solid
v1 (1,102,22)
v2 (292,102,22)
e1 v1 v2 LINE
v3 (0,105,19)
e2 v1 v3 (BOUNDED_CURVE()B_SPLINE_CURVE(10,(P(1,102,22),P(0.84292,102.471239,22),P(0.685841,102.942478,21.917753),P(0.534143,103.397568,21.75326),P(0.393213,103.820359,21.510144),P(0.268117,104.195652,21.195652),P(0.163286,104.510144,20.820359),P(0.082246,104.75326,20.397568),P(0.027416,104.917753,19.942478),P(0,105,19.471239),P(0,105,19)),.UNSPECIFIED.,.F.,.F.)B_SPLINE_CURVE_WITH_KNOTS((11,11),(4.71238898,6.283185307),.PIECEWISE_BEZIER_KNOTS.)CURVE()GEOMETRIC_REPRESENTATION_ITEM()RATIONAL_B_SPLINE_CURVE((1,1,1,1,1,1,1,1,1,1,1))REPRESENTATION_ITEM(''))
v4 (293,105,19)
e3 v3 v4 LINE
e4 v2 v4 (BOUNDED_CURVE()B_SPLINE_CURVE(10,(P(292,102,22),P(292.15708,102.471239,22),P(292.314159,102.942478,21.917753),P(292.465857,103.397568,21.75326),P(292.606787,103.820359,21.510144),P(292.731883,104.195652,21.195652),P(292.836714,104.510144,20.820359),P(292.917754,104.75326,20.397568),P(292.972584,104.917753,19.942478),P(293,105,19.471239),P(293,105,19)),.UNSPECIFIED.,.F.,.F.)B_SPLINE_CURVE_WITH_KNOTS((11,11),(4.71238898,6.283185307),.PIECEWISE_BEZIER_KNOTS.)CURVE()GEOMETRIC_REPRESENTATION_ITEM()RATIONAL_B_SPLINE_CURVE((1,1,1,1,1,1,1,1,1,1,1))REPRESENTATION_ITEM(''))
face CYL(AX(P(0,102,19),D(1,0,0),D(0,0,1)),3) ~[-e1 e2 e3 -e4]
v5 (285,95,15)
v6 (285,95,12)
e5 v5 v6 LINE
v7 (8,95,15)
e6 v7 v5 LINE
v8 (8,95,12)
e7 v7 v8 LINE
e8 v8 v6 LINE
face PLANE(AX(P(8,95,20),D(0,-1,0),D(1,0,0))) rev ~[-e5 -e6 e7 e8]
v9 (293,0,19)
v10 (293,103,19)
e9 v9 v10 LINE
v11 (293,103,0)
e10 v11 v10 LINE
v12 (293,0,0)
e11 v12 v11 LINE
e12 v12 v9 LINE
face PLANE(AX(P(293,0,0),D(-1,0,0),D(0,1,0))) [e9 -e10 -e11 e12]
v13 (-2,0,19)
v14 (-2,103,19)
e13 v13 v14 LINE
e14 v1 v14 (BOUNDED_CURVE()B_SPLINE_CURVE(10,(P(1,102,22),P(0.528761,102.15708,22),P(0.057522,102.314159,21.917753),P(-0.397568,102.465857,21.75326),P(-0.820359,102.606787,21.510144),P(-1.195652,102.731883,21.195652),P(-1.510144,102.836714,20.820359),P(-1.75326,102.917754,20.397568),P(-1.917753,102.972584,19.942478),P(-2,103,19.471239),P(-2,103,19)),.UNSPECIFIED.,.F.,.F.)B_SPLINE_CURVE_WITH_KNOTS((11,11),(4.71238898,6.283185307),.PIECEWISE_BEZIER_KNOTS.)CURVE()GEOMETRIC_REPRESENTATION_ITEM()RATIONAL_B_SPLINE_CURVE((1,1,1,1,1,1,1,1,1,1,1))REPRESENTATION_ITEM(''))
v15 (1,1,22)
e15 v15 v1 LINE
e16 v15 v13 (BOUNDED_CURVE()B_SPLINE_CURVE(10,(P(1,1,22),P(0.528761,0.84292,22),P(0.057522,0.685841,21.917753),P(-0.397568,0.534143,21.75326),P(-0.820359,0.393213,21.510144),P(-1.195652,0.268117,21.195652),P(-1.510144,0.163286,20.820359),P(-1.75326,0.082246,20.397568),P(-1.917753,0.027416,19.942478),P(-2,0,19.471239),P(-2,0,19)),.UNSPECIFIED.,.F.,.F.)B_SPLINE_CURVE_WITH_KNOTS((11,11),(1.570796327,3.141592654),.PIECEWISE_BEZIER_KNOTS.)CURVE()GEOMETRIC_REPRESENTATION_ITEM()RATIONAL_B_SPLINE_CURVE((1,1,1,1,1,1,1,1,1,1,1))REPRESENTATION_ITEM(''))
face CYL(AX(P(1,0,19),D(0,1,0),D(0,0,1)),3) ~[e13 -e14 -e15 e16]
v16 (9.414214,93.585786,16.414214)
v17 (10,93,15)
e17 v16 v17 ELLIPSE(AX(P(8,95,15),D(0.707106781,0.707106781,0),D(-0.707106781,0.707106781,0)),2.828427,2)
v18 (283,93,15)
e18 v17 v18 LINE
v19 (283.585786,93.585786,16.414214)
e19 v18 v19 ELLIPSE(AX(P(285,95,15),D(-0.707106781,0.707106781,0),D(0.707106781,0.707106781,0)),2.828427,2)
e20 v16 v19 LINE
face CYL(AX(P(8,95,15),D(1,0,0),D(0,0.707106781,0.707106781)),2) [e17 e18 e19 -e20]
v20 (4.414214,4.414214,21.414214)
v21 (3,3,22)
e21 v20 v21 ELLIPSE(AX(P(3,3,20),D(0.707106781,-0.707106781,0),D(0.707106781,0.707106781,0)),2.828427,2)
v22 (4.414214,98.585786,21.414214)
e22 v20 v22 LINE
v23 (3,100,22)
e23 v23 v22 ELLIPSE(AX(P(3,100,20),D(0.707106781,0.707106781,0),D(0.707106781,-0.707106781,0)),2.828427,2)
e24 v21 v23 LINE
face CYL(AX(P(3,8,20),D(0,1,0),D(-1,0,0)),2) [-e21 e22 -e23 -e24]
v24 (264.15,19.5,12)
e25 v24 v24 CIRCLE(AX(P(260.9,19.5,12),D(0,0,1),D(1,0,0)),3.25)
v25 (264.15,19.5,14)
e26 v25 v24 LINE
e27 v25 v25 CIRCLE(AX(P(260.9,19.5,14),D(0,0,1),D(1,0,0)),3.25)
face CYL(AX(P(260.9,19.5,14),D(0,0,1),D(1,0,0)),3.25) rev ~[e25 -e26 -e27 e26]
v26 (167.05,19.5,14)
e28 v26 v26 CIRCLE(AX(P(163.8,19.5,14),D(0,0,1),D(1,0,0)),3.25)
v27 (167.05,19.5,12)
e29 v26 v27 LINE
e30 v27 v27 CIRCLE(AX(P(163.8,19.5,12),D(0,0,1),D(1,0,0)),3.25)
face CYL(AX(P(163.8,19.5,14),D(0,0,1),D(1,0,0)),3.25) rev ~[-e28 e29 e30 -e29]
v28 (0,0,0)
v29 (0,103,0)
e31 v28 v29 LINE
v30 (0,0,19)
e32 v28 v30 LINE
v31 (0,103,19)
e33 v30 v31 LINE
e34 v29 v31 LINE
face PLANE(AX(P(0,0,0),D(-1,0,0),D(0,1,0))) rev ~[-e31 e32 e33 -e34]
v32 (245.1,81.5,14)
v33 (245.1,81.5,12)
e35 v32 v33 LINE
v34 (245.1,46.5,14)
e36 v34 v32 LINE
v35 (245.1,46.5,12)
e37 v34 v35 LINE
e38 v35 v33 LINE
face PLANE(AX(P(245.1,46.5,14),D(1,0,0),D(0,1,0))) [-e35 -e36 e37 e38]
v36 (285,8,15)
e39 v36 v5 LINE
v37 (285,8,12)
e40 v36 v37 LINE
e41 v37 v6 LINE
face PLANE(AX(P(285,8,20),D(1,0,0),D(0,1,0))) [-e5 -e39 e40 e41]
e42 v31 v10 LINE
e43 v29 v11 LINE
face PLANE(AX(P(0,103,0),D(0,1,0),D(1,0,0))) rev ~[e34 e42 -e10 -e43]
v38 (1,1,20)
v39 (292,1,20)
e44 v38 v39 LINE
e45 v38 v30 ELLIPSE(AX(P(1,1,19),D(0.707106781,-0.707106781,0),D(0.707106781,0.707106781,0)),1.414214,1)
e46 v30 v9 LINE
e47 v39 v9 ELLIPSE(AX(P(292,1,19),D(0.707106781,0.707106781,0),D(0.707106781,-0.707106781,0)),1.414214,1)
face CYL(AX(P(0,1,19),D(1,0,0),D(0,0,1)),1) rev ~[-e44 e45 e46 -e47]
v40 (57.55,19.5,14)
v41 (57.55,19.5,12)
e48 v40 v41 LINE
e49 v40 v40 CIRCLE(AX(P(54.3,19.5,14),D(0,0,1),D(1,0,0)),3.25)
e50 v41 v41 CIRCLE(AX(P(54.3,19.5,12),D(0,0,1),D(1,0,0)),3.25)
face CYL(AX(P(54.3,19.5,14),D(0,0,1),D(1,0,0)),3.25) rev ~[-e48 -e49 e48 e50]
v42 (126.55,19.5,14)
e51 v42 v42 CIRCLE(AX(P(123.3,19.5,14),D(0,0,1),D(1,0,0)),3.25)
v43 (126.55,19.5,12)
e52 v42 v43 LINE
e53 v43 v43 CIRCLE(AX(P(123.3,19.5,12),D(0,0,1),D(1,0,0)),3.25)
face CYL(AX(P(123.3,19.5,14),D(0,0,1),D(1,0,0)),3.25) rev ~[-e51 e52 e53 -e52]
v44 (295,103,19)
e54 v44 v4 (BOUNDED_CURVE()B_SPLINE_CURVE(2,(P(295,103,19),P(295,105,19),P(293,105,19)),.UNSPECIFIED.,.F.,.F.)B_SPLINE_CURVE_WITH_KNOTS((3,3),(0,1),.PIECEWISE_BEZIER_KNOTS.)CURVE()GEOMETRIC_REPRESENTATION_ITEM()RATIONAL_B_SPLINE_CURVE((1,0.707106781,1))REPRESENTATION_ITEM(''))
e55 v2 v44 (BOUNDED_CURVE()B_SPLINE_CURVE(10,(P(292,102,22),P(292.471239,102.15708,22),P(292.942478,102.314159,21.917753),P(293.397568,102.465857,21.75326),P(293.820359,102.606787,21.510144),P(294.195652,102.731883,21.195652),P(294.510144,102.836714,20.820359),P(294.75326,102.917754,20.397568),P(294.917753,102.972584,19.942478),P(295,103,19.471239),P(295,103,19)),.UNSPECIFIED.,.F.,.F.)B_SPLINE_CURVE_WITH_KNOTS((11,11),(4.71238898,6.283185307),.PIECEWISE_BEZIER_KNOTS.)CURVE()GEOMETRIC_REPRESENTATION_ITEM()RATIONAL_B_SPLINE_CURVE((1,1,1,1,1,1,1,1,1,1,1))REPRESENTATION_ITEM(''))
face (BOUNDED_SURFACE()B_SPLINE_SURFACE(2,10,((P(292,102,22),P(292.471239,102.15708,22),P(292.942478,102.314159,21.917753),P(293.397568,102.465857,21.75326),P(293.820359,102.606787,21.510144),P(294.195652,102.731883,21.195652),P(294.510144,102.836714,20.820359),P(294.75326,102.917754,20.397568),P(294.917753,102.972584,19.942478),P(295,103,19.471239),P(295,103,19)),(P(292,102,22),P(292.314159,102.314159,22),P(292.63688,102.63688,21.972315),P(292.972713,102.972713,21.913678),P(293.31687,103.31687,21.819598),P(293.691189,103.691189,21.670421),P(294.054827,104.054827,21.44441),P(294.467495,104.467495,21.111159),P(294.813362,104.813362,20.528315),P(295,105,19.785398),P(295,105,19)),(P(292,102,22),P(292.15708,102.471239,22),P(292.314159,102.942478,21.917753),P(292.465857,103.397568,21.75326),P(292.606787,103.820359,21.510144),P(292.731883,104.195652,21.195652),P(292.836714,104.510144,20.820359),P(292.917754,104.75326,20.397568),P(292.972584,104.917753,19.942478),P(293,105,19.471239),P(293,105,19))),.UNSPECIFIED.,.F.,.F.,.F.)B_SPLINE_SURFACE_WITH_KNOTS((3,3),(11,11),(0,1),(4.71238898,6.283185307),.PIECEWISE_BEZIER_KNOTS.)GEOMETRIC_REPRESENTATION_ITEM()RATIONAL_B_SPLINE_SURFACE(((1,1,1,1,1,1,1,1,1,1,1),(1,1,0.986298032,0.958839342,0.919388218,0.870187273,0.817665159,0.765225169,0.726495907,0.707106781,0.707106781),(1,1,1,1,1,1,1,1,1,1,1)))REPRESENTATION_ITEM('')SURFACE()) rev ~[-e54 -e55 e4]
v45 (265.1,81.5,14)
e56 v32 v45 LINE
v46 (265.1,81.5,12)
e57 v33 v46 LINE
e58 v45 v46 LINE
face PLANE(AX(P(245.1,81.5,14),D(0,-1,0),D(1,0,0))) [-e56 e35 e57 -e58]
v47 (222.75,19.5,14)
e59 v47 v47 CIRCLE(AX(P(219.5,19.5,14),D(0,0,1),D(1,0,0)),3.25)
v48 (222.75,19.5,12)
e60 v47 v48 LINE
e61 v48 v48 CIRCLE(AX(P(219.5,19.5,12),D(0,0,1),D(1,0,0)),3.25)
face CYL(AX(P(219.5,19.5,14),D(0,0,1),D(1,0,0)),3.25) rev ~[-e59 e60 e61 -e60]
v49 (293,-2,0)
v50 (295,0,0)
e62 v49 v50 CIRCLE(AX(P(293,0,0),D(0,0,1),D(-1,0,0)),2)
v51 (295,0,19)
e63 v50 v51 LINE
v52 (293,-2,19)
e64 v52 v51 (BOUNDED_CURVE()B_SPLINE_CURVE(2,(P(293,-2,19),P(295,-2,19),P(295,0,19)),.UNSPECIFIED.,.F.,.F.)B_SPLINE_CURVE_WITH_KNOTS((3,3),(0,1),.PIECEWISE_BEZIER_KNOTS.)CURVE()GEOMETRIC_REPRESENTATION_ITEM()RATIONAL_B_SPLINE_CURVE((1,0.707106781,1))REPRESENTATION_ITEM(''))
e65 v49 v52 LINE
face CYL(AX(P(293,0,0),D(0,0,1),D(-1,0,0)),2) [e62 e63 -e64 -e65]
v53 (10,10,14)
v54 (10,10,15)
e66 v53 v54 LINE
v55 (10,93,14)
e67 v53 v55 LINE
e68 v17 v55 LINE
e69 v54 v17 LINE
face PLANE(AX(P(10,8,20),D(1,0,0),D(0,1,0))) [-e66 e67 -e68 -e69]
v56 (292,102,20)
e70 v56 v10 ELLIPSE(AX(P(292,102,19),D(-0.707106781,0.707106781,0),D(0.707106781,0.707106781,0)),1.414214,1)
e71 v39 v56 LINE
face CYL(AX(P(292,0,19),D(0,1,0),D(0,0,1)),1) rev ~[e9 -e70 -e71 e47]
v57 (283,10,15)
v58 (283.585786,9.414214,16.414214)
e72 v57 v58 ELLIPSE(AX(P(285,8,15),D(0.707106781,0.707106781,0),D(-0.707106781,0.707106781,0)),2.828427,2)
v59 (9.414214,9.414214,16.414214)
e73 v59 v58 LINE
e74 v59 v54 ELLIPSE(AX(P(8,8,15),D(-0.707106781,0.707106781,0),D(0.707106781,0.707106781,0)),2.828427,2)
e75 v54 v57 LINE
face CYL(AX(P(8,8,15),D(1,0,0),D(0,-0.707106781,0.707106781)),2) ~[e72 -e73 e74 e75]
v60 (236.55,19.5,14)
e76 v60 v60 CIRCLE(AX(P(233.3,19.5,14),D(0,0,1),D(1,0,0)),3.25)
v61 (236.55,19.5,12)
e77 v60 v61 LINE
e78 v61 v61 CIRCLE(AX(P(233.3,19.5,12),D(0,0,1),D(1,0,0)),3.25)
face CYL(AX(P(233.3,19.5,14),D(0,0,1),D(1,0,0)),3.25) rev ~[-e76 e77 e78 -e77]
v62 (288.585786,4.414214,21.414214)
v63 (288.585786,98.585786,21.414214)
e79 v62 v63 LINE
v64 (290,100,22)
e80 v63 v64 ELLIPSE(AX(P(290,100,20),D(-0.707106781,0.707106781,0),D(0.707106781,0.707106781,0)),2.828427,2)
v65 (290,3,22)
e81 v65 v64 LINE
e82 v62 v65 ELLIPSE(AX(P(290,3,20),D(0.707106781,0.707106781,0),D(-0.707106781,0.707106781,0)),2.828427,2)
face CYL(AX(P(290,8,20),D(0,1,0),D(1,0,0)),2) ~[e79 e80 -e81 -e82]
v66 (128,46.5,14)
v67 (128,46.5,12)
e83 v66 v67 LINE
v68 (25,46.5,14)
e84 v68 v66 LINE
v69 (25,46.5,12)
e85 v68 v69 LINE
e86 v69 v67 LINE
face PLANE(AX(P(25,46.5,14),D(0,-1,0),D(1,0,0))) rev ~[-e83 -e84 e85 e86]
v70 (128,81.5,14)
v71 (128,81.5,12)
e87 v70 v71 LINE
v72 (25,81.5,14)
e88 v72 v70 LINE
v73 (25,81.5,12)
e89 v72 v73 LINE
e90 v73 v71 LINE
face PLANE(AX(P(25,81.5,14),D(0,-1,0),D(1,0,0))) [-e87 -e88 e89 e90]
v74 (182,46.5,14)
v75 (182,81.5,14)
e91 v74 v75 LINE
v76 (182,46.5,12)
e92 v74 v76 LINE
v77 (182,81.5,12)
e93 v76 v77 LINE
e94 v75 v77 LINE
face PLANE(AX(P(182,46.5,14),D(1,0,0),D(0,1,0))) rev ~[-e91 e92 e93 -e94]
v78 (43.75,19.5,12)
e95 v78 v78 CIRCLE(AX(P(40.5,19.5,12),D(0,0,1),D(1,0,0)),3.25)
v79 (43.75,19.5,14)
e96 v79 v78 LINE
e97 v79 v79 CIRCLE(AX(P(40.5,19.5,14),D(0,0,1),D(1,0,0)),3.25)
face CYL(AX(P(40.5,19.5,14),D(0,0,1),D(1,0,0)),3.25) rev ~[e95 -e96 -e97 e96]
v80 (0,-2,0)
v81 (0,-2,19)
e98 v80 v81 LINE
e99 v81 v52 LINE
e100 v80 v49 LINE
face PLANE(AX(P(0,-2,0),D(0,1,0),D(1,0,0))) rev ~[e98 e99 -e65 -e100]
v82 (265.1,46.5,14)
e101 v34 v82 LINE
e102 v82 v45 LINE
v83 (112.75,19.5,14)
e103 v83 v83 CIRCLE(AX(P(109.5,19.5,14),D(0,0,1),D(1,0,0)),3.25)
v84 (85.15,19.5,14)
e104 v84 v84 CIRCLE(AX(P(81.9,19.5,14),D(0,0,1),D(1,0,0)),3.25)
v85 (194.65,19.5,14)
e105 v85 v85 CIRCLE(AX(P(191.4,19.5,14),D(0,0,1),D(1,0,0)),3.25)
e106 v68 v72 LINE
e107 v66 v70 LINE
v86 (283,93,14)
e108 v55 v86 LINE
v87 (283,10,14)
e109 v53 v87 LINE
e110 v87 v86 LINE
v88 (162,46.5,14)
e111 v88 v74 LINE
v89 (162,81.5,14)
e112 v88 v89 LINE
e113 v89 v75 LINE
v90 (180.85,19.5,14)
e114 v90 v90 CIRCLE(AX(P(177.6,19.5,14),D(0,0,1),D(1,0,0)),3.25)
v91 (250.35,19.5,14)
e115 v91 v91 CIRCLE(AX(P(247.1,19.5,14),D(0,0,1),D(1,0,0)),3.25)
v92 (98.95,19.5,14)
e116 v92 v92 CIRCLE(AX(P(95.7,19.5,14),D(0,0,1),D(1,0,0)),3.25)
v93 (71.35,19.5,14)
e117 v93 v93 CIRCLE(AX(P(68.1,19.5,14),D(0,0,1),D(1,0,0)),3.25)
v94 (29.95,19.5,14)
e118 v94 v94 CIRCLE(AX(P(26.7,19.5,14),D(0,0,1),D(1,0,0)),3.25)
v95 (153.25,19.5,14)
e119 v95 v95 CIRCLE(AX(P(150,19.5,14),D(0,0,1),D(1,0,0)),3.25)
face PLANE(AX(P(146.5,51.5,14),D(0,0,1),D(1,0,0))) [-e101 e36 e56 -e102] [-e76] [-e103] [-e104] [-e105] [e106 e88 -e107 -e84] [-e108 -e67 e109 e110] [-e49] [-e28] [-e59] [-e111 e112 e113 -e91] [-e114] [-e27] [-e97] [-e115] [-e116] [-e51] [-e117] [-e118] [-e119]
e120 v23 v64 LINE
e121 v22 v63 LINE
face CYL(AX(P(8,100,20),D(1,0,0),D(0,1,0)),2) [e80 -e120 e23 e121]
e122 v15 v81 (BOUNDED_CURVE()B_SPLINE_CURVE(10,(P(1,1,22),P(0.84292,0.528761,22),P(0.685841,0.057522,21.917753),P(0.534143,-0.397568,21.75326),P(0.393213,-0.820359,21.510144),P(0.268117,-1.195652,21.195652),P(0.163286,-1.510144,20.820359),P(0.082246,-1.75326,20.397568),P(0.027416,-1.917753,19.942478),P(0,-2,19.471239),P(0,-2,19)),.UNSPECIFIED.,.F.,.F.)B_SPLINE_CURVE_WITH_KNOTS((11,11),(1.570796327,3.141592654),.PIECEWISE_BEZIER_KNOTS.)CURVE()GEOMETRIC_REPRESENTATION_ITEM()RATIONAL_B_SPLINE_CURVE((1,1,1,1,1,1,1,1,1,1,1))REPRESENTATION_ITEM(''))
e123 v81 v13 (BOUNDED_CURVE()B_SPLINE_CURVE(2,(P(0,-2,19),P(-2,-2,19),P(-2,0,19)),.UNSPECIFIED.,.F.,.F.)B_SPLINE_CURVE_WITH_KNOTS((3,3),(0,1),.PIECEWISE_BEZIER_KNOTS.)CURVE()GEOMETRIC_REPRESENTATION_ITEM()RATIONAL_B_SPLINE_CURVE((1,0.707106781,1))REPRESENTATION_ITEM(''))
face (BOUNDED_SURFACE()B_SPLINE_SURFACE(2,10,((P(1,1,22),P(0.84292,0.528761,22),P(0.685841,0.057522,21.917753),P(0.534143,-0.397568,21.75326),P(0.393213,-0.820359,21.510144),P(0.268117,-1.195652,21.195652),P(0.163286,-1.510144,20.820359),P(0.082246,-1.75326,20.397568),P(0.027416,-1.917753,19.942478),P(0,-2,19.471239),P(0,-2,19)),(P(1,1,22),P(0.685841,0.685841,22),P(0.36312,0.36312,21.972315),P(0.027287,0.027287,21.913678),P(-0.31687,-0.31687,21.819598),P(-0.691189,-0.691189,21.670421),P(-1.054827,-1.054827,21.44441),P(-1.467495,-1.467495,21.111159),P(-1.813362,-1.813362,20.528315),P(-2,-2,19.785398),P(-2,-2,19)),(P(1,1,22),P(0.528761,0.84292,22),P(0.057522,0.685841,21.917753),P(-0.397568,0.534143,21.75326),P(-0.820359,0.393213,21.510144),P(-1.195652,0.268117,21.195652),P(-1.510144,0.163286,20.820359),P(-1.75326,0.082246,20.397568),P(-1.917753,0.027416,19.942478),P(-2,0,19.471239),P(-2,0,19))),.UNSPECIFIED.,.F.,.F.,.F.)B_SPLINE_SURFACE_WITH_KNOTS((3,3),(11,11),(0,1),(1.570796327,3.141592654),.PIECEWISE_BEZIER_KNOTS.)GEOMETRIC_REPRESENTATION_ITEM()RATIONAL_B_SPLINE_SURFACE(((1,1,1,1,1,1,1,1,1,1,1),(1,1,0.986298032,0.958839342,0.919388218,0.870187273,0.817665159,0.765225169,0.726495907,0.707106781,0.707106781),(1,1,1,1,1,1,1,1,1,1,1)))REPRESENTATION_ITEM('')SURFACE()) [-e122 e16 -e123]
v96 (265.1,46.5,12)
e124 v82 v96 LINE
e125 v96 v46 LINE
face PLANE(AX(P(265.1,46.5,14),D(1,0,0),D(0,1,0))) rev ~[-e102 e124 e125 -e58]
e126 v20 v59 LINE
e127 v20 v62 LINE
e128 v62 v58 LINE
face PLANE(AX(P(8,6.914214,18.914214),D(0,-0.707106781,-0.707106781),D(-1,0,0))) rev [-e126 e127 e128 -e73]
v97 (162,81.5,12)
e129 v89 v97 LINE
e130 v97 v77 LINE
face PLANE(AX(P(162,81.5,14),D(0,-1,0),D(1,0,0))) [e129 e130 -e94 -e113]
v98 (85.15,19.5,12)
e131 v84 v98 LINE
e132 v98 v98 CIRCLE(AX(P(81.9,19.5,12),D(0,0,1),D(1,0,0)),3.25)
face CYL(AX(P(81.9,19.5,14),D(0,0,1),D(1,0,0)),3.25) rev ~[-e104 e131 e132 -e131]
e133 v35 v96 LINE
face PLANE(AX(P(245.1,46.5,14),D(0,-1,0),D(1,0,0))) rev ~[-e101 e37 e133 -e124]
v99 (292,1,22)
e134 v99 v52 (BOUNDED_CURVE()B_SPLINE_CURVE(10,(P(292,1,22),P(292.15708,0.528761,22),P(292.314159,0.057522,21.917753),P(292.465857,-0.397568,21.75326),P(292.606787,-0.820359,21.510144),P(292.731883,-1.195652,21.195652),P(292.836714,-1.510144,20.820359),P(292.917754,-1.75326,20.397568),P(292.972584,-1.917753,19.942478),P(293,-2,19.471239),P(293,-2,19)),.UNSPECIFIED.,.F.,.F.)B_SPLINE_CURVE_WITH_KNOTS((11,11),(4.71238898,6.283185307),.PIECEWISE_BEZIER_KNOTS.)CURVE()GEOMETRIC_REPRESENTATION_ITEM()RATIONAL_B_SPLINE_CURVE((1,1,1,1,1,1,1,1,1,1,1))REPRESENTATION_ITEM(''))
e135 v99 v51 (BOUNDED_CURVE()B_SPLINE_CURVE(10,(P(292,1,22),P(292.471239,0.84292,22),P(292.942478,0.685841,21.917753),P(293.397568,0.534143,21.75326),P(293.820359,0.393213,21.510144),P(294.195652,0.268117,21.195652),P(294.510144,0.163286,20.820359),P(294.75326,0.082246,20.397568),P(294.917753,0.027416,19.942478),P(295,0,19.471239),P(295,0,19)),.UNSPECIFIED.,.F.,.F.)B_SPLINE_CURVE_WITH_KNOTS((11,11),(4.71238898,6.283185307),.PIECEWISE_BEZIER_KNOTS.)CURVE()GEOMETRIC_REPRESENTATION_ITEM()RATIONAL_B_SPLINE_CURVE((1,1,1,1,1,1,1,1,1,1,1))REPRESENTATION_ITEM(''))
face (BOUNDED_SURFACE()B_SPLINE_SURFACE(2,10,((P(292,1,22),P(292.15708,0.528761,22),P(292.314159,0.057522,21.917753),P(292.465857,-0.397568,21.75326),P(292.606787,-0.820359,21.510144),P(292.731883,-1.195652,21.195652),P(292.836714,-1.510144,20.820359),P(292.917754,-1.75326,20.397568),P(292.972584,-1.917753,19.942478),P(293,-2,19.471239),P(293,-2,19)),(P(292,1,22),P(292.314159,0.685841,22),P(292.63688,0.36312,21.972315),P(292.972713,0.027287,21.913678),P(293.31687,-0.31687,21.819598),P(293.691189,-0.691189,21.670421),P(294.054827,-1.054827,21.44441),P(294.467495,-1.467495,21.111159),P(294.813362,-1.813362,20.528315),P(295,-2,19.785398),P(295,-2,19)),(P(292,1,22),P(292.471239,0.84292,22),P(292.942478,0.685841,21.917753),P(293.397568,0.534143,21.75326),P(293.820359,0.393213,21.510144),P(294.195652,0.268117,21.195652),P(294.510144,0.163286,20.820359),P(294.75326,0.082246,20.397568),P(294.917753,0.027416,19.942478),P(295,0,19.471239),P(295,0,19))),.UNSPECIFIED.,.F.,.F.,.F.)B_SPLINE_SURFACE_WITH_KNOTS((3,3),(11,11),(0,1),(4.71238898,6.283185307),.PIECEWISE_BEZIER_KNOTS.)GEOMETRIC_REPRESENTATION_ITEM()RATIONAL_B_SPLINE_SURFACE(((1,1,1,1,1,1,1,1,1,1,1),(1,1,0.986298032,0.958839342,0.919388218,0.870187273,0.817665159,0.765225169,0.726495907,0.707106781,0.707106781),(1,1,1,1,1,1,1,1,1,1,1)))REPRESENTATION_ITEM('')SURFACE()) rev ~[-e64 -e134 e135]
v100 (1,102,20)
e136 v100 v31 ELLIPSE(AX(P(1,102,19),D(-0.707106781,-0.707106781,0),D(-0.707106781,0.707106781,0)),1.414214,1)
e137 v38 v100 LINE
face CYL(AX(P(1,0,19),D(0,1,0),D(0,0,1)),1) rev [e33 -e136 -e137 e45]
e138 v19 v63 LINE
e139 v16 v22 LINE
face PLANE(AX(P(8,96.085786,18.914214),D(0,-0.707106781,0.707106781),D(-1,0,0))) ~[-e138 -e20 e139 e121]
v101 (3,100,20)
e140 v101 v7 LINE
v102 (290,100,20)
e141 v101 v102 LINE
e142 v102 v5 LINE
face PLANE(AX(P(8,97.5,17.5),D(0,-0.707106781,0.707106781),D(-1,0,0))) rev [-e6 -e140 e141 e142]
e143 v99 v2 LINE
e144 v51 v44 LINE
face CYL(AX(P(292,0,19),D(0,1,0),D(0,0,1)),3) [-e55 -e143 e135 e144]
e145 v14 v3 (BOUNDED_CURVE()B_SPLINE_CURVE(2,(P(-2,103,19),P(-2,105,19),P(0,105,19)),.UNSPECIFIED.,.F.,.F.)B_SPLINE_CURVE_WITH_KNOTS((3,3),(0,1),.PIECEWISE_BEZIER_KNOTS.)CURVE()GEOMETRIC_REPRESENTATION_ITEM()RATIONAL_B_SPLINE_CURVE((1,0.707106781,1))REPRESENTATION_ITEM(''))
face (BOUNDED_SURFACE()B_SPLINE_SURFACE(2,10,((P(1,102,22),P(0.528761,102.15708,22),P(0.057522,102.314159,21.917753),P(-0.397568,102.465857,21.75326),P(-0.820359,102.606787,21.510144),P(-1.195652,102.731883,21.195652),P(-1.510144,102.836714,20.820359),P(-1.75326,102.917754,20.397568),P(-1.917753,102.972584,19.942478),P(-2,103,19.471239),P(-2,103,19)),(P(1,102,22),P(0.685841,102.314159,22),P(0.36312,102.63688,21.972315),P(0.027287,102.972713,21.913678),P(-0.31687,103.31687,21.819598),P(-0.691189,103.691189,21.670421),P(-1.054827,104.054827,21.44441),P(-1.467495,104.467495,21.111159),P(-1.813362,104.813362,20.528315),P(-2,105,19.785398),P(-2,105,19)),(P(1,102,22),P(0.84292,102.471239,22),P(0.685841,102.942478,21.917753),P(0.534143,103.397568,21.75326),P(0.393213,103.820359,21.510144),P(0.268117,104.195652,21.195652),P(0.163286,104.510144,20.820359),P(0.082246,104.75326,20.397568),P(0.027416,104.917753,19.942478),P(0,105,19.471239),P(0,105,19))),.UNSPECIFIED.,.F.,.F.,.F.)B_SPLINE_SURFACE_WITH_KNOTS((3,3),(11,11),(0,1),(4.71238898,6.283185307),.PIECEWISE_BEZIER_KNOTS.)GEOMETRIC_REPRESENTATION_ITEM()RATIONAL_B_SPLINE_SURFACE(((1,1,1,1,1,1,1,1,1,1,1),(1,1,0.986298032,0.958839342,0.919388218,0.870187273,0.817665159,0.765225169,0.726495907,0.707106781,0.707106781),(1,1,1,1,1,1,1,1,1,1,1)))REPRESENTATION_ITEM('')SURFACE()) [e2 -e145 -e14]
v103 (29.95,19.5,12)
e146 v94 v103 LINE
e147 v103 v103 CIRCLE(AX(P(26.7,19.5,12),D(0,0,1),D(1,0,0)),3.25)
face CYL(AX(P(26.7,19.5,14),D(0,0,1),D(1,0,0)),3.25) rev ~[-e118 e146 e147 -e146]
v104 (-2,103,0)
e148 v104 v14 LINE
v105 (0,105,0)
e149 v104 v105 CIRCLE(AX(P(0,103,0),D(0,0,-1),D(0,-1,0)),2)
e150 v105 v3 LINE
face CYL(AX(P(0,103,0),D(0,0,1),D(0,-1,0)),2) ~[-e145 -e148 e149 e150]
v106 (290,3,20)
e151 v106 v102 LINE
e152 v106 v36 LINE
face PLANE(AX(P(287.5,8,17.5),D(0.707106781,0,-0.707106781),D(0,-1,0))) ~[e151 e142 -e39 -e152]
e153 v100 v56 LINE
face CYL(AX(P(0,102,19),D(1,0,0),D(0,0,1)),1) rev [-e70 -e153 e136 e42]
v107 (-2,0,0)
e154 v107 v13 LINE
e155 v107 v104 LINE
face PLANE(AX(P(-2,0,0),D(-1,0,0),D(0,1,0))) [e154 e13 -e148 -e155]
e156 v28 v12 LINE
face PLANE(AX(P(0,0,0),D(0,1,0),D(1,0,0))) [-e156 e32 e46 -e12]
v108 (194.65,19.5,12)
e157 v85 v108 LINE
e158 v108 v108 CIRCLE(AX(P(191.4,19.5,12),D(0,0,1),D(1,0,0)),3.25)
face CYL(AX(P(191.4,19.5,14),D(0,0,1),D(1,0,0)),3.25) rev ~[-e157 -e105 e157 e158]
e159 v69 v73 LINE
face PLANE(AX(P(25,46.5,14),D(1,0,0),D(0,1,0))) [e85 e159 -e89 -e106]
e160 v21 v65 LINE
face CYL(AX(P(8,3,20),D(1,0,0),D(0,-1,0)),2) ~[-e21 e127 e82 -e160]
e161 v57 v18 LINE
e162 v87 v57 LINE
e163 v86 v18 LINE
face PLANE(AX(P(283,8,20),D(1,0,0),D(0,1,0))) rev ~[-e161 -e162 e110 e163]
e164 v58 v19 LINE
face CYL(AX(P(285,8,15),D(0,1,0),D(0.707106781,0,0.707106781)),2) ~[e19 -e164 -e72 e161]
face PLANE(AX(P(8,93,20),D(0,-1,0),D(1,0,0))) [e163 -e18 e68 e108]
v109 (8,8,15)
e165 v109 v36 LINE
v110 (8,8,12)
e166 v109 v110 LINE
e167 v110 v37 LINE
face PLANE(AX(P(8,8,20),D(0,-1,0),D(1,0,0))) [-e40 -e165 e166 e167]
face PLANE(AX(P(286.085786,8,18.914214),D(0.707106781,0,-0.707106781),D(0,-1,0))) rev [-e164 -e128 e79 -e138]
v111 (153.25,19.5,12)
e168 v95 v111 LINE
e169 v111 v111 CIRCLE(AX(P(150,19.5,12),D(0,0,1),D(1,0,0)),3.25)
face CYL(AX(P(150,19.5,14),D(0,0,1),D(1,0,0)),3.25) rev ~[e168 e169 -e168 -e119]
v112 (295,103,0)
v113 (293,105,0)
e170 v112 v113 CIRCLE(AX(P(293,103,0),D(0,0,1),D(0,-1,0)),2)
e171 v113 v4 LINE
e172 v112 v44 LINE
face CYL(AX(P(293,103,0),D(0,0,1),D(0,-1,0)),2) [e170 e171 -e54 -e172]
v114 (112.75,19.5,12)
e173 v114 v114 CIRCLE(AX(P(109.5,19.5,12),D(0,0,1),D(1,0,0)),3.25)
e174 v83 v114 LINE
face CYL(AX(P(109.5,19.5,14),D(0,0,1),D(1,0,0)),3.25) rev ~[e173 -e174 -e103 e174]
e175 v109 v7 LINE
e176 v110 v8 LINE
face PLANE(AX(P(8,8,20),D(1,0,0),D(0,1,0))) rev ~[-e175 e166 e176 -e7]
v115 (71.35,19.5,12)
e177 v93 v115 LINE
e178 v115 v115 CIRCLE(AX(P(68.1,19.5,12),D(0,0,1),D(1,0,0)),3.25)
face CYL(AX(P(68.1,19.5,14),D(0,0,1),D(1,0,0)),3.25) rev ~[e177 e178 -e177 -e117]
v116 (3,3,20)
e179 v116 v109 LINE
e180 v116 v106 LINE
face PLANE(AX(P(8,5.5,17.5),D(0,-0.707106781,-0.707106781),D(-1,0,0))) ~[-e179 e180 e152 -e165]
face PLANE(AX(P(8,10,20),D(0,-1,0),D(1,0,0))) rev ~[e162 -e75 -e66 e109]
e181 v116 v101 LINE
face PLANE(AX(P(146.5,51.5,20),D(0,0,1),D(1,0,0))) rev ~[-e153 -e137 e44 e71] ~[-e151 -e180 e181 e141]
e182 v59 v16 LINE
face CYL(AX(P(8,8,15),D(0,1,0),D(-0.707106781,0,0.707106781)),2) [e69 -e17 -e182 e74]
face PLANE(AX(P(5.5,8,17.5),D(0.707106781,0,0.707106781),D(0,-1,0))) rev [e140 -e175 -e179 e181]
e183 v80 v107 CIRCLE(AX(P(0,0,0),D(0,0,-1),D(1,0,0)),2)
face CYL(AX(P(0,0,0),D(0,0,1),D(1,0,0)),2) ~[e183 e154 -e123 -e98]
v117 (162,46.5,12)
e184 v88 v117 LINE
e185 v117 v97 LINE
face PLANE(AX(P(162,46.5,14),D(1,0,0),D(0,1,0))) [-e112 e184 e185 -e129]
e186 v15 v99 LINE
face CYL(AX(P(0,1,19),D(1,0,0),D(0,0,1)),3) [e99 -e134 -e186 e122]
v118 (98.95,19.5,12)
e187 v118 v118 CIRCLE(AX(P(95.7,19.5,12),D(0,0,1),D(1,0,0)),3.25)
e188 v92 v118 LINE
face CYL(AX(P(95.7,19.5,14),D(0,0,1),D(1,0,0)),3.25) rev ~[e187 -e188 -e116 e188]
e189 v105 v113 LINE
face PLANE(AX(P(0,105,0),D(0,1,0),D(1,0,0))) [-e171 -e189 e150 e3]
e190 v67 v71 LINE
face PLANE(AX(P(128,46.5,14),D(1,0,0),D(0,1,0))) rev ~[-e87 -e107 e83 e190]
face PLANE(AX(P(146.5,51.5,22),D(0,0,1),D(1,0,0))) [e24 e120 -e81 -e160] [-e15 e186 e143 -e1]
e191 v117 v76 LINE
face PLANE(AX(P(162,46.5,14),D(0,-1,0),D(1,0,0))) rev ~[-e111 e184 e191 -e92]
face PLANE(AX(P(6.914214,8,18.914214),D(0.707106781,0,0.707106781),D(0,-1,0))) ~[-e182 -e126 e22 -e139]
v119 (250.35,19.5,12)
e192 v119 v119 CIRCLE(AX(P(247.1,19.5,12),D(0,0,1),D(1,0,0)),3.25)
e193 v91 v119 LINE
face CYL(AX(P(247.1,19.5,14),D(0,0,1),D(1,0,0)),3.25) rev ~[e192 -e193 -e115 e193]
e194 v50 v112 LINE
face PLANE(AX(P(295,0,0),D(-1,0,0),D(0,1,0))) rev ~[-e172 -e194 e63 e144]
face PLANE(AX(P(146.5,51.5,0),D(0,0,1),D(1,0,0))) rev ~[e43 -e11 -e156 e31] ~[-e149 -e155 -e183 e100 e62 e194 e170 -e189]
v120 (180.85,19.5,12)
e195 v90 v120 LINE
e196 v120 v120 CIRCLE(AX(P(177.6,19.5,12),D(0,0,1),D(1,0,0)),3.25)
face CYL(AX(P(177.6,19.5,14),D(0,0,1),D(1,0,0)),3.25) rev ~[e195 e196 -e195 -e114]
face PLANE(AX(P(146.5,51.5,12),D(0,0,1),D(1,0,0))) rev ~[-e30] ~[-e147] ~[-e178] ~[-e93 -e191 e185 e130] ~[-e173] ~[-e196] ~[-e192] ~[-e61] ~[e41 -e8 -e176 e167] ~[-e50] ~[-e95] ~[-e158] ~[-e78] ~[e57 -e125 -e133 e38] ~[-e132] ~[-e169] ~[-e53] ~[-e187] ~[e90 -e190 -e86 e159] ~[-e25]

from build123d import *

# Parameters (mm, degrees)
SKETCH_W        = 293
SKETCH_H        = 103
PAD_DEPTH       = 20
SKETCH001_W     = 277
SKETCH001_H     = 87
POCKET_DEPTH    = 8
CHAMFER_SIZE    = 5
FILLET_R        = 1
THICKNESS_T     = 2
SKETCH003_W     = 103
SKETCH003_H     = 35
SKETCH003_W_2   = 20
POCKET002_DEPTH = 5
SKETCH004_R     = 3.25
POCKET003_DEPTH = 2


with BuildPart() as part:
    # Sketch → Pad (new body)
    with BuildSketch(Plane.XY):
        with Locations((146.5, 51.5)):
            Rectangle(SKETCH_W, SKETCH_H)
    extrude(amount=PAD_DEPTH)

    # Sketch001 (on Face6 of Pad) → Pocket (cut)
    with BuildSketch(Plane.XY.offset(20)):
        with Locations((146.5, 51.5)):
            Rectangle(SKETCH001_W, SKETCH001_H)
    extrude(amount=-POCKET_DEPTH, mode=Mode.SUBTRACT)

    # Chamfer
    chamfer_edges = [part.edges().sort_by_distance(p)[0] for p in [
        (8, 51.5, 20),
        (146.5, 95, 20),
        (146.5, 8, 20),
        (285, 51.5, 20),
    ]]
    chamfer(chamfer_edges, length=CHAMFER_SIZE)

    # Fillet
    fillet_edges = [part.edges().sort_by_distance(p)[0] for p in [
        (146.5, 0, 20),
        (0, 51.5, 20),
        (146.5, 103, 20),
        (293, 51.5, 20),
    ]]
    fillet(fillet_edges, radius=FILLET_R)

    # Thickness
    thickness_openings = [part.faces().sort_by_distance(p)[0] for p in [
        (146.5, 51.5, 0),
    ]]
    offset(amount=THICKNESS_T, openings=thickness_openings)

    # Sketch003 → Pocket002 (cut)
    with BuildSketch(Plane.XY.offset(14)):
        with Locations((76.5, 64)):
            Rectangle(SKETCH003_W, SKETCH003_H)
        with Locations((172, 64)):
            Rectangle(SKETCH003_W_2, SKETCH003_H)
        with Locations((255.1, 64)):
            Rectangle(SKETCH003_W_2, SKETCH003_H)
    extrude(amount=-POCKET002_DEPTH, mode=Mode.SUBTRACT)

    # Sketch004 (on Face48 of Pocket002) → Pocket003 (cut)
    with BuildSketch(Plane.XY.offset(14)):
        with Locations((26.7, 19.5)):
            Circle(SKETCH004_R)
        with Locations((40.5, 19.5)):
            Circle(SKETCH004_R)
        with Locations((54.3, 19.5)):
            Circle(SKETCH004_R)
        with Locations((68.1, 19.5)):
            Circle(SKETCH004_R)
        with Locations((81.9, 19.5)):
            Circle(SKETCH004_R)
        with Locations((95.7, 19.5)):
            Circle(SKETCH004_R)
        with Locations((109.5, 19.5)):
            Circle(SKETCH004_R)
        with Locations((123.3, 19.5)):
            Circle(SKETCH004_R)
        with Locations((150, 19.5)):
            Circle(SKETCH004_R)
        with Locations((163.8, 19.5)):
            Circle(SKETCH004_R)
        with Locations((177.6, 19.5)):
            Circle(SKETCH004_R)
        with Locations((191.4, 19.5)):
            Circle(SKETCH004_R)
        with Locations((219.5, 19.5)):
            Circle(SKETCH004_R)
        with Locations((233.3, 19.5)):
            Circle(SKETCH004_R)
        with Locations((247.1, 19.5)):
            Circle(SKETCH004_R)
        with Locations((260.9, 19.5)):
            Circle(SKETCH004_R)
    extrude(amount=-POCKET003_DEPTH, mode=Mode.SUBTRACT)


solid = part.part
